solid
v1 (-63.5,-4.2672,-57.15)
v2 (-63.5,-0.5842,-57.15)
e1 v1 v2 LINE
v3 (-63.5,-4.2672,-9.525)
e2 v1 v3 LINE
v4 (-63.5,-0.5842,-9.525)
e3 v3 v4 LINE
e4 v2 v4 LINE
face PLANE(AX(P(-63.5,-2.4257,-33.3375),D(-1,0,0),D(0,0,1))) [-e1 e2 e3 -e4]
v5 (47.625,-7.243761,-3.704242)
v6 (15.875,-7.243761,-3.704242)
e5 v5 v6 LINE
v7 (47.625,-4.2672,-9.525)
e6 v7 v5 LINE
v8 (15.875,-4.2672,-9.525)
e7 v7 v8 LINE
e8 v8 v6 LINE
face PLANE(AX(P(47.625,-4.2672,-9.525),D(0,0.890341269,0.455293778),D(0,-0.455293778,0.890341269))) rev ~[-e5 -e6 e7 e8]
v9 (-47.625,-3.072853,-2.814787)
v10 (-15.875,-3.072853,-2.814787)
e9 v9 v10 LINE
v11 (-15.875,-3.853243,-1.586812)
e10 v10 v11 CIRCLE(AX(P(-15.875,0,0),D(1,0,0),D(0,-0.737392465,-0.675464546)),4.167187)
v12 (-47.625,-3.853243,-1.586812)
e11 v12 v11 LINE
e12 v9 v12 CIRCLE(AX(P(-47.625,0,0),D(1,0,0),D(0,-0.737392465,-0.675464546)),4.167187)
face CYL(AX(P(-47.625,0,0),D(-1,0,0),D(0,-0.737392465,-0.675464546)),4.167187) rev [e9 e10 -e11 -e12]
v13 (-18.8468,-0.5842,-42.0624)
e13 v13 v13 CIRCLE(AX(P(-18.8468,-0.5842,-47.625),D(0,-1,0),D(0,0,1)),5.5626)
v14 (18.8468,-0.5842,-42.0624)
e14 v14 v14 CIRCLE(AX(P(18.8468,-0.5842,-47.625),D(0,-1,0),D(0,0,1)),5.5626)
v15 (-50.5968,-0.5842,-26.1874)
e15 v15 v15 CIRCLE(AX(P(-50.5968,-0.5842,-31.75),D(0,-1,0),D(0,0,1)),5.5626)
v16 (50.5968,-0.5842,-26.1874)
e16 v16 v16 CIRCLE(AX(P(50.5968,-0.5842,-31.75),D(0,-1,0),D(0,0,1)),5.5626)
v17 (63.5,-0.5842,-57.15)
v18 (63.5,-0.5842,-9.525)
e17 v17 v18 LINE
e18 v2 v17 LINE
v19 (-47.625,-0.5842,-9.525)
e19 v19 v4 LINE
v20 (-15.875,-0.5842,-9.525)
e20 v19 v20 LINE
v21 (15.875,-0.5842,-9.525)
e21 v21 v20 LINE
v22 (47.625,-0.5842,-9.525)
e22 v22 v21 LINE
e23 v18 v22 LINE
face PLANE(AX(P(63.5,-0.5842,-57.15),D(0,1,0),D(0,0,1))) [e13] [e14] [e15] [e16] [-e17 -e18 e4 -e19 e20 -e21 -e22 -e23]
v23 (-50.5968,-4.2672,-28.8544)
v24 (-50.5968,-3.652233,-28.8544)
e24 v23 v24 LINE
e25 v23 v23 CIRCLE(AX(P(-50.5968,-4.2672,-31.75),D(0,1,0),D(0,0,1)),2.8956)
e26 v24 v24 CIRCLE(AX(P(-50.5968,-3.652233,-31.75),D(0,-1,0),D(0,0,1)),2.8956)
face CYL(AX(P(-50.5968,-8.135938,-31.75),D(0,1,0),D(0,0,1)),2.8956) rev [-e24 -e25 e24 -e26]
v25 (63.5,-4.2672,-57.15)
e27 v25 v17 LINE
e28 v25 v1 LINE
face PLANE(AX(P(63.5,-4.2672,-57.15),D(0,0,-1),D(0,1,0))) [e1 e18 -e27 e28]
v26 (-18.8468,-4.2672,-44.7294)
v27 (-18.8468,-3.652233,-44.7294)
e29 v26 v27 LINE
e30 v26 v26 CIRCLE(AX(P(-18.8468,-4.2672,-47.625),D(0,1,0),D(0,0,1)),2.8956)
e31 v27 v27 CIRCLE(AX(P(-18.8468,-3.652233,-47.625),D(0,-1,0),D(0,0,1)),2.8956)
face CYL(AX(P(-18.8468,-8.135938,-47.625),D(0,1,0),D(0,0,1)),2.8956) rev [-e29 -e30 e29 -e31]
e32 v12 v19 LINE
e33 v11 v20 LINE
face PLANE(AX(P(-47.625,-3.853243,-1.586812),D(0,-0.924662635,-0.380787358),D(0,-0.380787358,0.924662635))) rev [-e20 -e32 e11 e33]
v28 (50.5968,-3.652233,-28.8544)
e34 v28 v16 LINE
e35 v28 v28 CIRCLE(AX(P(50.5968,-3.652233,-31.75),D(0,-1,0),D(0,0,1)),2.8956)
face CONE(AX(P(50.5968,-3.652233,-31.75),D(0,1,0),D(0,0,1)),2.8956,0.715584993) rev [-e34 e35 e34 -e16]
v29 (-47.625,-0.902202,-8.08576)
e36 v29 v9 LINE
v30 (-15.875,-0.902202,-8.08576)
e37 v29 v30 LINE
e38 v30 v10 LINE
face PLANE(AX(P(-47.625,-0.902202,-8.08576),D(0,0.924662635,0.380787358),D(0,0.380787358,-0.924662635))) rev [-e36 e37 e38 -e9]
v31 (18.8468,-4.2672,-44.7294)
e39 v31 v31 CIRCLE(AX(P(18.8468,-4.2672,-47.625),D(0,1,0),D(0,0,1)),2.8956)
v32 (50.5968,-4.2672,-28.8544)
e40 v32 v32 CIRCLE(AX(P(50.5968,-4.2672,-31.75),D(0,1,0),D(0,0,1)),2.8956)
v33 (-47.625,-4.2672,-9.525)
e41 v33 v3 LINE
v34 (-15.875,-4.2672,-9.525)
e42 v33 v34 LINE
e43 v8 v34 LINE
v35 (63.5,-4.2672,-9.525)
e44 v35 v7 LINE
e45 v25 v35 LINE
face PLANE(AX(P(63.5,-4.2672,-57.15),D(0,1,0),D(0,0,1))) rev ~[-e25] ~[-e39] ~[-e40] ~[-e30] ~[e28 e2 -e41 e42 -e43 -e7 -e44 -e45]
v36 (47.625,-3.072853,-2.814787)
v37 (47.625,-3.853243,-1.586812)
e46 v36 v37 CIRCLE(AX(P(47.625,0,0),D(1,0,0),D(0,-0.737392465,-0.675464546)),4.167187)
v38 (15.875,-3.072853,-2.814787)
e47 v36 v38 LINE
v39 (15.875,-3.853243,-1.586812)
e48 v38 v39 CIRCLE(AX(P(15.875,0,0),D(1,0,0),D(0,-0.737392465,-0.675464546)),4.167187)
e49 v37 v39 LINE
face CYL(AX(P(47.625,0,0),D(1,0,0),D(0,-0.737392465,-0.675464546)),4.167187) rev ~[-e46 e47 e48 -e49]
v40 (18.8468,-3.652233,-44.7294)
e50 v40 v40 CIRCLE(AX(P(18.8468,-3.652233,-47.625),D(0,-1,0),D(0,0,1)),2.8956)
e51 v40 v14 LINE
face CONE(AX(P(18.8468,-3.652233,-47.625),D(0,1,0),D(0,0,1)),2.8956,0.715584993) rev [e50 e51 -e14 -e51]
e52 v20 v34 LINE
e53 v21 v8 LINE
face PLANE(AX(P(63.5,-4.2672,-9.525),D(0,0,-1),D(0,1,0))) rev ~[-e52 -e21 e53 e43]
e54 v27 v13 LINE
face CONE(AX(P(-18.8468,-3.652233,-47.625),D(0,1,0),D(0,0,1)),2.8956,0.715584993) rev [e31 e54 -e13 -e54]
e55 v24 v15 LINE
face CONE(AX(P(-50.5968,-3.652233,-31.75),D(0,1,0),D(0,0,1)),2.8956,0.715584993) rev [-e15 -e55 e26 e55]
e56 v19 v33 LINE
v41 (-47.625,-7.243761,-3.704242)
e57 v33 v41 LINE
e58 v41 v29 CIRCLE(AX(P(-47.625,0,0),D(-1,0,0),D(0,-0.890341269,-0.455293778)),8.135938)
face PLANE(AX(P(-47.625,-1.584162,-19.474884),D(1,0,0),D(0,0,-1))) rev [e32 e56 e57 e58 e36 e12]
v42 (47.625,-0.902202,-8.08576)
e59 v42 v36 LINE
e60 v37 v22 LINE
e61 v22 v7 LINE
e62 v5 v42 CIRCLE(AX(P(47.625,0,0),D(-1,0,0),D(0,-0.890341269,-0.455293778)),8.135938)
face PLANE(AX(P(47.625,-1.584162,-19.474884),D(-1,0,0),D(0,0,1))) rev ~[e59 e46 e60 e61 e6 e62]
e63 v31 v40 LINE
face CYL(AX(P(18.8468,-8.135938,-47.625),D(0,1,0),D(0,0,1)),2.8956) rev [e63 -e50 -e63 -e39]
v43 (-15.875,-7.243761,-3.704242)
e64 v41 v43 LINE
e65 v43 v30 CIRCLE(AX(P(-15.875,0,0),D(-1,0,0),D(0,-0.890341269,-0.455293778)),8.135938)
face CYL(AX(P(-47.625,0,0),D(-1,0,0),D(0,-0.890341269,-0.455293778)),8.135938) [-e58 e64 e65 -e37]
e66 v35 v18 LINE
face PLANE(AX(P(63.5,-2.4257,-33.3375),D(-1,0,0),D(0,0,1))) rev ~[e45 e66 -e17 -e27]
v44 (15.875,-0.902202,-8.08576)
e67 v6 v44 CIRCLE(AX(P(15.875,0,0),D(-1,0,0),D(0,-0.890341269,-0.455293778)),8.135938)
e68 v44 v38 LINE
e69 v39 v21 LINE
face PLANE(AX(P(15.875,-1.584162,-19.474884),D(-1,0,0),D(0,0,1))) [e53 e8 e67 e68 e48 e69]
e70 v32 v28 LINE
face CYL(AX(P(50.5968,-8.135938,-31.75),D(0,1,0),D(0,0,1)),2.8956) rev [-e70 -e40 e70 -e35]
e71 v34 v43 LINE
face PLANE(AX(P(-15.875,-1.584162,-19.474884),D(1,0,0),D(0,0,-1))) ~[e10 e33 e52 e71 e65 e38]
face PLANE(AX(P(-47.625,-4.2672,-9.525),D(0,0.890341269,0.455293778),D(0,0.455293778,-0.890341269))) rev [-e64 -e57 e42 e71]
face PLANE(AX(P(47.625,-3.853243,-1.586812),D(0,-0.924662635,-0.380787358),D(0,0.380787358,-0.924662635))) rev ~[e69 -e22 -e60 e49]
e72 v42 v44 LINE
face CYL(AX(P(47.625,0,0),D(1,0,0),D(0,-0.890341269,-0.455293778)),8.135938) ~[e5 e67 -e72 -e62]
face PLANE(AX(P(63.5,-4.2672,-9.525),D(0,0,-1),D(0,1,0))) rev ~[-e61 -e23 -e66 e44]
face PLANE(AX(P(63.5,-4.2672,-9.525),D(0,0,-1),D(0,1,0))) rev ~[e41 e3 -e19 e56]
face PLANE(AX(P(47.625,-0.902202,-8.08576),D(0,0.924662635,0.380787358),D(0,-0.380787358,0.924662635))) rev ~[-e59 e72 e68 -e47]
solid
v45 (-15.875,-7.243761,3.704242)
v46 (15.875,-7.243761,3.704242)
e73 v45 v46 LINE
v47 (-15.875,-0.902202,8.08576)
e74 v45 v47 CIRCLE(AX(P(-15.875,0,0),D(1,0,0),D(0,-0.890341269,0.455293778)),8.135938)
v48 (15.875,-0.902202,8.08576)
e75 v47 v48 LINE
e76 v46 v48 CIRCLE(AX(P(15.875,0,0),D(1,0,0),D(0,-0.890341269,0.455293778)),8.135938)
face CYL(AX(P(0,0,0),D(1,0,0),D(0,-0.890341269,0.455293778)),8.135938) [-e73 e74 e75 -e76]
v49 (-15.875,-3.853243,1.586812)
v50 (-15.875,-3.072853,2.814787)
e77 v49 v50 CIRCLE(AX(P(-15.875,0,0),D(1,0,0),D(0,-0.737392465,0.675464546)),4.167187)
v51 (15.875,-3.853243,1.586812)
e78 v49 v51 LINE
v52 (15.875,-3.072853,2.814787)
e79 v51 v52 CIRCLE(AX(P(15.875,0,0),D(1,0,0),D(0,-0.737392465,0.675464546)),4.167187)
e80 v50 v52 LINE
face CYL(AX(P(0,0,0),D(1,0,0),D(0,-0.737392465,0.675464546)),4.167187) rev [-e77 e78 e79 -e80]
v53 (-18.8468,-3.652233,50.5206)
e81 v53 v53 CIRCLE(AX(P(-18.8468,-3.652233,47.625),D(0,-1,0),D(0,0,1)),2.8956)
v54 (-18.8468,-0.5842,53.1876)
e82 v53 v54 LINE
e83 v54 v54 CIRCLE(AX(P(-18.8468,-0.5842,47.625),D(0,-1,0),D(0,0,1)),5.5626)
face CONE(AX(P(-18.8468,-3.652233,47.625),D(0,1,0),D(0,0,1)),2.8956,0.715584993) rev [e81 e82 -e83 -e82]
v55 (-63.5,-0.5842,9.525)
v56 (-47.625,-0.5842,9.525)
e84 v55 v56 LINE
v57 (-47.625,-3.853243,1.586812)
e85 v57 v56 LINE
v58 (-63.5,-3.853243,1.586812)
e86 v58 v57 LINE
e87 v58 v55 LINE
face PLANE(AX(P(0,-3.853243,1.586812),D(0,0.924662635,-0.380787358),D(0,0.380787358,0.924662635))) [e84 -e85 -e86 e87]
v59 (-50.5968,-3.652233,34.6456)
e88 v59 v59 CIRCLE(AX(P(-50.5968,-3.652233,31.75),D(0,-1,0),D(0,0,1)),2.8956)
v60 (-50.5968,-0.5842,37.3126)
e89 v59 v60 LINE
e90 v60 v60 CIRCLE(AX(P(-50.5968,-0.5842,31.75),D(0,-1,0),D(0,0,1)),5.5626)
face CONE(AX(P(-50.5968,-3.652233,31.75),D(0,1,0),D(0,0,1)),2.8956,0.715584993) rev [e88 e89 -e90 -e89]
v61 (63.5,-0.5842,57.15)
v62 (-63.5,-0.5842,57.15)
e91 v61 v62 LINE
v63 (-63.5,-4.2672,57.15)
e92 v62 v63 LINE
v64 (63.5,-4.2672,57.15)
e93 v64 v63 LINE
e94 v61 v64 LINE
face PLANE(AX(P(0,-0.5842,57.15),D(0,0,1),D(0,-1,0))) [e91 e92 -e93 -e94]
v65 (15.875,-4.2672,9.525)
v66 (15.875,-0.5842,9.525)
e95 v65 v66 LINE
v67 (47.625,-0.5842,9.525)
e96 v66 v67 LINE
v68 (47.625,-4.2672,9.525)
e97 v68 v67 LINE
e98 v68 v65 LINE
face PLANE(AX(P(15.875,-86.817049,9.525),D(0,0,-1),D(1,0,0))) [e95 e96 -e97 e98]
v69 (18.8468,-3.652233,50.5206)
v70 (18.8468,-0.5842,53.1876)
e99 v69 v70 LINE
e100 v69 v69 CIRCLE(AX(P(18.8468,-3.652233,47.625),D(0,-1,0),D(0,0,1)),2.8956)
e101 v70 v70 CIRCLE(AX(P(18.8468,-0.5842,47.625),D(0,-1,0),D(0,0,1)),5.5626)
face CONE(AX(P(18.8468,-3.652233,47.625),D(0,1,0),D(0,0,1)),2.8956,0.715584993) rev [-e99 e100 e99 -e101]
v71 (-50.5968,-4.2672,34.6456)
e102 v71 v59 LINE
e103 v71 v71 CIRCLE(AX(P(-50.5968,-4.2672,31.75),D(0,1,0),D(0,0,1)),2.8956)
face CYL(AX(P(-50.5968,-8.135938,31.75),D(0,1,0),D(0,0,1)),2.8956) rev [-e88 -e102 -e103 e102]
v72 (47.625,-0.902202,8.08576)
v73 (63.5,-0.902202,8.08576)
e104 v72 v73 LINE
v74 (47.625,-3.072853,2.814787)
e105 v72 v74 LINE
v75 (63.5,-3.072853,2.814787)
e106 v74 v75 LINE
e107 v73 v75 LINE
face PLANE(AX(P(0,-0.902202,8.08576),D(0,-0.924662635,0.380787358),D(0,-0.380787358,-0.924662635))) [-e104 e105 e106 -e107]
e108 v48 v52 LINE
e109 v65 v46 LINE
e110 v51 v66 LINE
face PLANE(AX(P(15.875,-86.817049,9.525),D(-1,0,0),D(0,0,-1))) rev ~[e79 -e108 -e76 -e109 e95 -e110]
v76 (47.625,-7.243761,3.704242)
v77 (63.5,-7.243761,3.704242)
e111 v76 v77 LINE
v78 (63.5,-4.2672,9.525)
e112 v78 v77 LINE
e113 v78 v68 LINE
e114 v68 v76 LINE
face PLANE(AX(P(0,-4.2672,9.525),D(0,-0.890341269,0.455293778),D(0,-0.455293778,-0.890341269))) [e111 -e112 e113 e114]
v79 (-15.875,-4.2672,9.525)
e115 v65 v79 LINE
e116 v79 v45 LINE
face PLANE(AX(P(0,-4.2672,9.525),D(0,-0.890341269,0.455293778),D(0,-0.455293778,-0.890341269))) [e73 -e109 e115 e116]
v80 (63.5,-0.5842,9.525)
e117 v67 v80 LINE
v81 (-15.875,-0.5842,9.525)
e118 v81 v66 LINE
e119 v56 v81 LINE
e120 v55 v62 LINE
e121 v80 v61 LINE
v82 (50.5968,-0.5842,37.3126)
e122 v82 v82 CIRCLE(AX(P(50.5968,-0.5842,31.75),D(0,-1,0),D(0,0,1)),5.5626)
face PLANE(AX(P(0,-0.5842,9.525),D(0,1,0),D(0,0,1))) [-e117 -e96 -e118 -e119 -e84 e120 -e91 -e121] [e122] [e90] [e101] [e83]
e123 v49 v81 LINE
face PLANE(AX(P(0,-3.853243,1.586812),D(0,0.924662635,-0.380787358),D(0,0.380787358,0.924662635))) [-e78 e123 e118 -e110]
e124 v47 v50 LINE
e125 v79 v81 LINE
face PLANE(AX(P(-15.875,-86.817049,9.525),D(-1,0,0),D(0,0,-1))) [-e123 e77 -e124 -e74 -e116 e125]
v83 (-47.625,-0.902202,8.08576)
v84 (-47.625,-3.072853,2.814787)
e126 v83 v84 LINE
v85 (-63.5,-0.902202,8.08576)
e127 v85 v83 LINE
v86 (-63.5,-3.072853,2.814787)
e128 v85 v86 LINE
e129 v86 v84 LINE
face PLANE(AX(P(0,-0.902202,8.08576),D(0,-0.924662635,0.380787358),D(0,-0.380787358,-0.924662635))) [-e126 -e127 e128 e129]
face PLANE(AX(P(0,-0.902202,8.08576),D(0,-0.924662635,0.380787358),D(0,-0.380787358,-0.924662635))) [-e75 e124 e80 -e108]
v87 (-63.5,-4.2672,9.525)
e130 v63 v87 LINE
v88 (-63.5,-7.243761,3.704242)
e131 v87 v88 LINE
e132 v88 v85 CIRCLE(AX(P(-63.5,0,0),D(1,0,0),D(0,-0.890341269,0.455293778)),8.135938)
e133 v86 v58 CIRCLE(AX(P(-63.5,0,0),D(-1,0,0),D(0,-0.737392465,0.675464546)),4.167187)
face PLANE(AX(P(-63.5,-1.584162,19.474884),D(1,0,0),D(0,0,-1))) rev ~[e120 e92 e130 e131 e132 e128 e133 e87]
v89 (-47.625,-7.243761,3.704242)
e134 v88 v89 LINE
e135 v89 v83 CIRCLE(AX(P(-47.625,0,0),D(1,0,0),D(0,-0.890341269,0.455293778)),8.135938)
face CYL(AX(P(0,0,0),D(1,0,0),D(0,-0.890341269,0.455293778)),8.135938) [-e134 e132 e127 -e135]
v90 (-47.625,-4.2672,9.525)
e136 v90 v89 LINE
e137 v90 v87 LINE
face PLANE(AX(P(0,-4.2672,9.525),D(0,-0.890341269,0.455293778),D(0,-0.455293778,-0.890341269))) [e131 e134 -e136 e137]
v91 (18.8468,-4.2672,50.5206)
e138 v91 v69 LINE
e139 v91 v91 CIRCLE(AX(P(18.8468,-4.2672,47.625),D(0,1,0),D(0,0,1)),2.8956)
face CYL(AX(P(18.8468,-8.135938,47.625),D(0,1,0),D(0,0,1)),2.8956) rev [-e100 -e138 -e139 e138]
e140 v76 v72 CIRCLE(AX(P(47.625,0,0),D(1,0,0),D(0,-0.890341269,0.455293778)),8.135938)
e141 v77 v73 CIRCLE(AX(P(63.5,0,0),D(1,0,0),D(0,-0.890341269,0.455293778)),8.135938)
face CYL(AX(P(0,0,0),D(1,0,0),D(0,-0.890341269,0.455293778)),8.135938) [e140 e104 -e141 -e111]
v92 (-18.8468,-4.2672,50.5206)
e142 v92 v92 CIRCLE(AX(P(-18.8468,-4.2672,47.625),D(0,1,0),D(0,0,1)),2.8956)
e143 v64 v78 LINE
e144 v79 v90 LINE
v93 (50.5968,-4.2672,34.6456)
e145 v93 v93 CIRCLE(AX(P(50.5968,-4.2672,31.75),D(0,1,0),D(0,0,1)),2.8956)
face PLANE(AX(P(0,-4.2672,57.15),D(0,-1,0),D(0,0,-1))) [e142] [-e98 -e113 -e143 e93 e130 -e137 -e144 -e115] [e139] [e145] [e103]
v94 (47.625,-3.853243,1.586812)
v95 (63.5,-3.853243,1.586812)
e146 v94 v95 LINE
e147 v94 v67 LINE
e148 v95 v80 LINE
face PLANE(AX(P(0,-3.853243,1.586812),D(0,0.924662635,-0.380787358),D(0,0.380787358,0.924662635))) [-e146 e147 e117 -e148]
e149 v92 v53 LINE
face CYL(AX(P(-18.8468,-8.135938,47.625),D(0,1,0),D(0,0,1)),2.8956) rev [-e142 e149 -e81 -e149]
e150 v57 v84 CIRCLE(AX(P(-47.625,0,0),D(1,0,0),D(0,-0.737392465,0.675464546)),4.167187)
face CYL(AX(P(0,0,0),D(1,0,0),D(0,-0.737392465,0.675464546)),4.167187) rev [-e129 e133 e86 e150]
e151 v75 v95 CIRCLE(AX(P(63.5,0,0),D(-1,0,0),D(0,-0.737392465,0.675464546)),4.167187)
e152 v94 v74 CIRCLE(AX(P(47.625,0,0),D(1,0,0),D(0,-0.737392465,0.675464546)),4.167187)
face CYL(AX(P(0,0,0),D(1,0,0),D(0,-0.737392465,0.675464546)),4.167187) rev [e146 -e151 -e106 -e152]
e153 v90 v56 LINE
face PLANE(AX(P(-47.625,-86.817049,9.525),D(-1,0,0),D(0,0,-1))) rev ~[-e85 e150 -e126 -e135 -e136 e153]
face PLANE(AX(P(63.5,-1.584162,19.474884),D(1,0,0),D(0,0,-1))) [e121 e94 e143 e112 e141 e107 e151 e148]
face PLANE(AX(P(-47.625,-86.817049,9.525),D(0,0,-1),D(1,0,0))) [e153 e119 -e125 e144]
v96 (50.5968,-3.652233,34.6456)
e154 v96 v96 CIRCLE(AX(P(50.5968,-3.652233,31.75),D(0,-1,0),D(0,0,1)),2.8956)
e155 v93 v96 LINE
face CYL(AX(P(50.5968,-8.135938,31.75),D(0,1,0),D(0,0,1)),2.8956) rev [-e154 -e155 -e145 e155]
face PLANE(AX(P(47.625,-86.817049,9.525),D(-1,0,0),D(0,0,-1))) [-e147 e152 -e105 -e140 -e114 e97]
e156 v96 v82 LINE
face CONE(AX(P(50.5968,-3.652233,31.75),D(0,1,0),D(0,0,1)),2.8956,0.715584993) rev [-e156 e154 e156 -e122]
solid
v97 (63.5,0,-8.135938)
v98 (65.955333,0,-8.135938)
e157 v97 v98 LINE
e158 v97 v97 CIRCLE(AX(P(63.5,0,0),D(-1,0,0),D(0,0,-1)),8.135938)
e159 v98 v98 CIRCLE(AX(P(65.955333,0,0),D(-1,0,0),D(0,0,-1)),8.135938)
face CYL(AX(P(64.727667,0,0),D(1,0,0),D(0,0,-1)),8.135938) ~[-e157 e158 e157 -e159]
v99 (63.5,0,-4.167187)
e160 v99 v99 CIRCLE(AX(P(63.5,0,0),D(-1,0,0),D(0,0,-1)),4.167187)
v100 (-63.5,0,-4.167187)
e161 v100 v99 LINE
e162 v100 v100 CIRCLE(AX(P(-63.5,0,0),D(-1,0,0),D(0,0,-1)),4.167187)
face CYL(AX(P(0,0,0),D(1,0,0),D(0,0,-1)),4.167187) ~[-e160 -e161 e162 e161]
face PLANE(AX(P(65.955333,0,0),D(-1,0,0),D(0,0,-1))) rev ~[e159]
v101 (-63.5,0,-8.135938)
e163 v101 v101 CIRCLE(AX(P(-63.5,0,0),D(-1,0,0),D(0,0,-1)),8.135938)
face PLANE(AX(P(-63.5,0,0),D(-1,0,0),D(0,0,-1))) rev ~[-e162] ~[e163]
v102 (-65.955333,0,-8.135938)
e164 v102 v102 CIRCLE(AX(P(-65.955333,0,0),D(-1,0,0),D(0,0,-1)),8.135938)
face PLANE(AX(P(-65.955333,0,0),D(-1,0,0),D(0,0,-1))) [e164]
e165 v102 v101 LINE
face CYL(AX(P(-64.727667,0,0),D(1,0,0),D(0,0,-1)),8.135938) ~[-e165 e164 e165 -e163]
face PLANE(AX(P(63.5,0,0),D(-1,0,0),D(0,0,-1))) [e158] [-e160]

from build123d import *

# Parameters (mm, degrees)
LEFT_LEAF_DEPTH                              = 63.5
CUT_EXTRUDE1_DEPTH                           = 86.817049466
CUT_EXTRUDE1_DEPTH_BACK                      = 86.817049466
SKETCH2_W                                    = 31.75
SKETCH2_H                                    = 17.6609375
RIGHT_LEAF_DEPTH                             = 31.75
EXTRUDE3_START                               = -63.5
SKETCH4_W                                    = 47.625
SKETCH4_H                                    = 3.683
EXTRUDE3_DEPTH                               = 127
SKETCH6_W                                    = 127
SKETCH6_H                                    = 4.1671875
SKETCH7_W                                    = 2.455333333
SKETCH7_H                                    = 8.1359375
CSK_FOR_12_FLAT_HEAD_MACHINE_SCREW1_AT_COUNT = 2
CSK_FOR_12_FLAT_HEAD_MACHINE_SCREW1_AT_PITCH = 95.25
CSK_FOR_12_FLAT_HEAD_MACHINE_SCREW1_2_COUNT  = 2
CSK_FOR_12_FLAT_HEAD_MACHINE_SCREW1_2_PITCH  = 102.437151371
CSK_FOR_12_FLAT_HEAD_MACHINE_SCREW1_3_COUNT  = 2
CSK_FOR_12_FLAT_HEAD_MACHINE_SCREW1_3_PITCH  = 37.6936
CSK_FOR_12_FLAT_HEAD_MACHINE_SCREW1_4_COUNT  = 2
CSK_FOR_12_FLAT_HEAD_MACHINE_SCREW1_4_PITCH  = 85.489491313
CSK_FOR_12_FLAT_HEAD_MACHINE_SCREW1_5_COUNT  = 2
CSK_FOR_12_FLAT_HEAD_MACHINE_SCREW1_5_PITCH  = 105.464705973
CSK_FOR_12_FLAT_HEAD_MACHINE_SCREW1_6_COUNT  = 2
CSK_FOR_12_FLAT_HEAD_MACHINE_SCREW1_6_PITCH  = 35.497579143
CSK_FOR_12_FLAT_HEAD_MACHINE_SCREW1_7_COUNT  = 2
CSK_FOR_12_FLAT_HEAD_MACHINE_SCREW1_7_PITCH  = 71.235027942


with BuildPart() as part:
    # Sketch1 → Left Leaf (new, symmetric)
    with BuildSketch(Plane(origin=(0, 0, 0), x_dir=(0, 0, -1), z_dir=(1, 0, 0))):
        with BuildLine():
            Line((-9.525, -4.2672), (-3.704241722, -7.24376092))
            ThreePointArc((-3.704241722, -7.24376092), (6.693644471, 4.624781368), (-8.085759748, -0.902201921))
            Line((-8.085759748, -0.902201921), (-2.814787415, -3.07285266))
            ThreePointArc((-2.814787415, -3.07285266), (2.235122404, 3.517055515), (-1.58681232, -3.853242572))
            Line((-1.58681232, -3.853242572), (-9.525, -0.5842))
            Line((-9.525, -0.5842), (-57.15, -0.5842))
            Line((-57.15, -0.5842), (-57.15, -4.2672))
            Line((-57.15, -4.2672), (-9.525, -4.2672))
        make_face()
    extrude(amount=LEFT_LEAF_DEPTH, both=True)

    # Sketch2 → Cut-Extrude1 (cut, two sides: drawn at the far end of the back side and taken through both)
    with BuildSketch(Plane(origin=(0, 0, 0), x_dir=(1, 0, 0), z_dir=(0, 1, 0)).offset(-CUT_EXTRUDE1_DEPTH_BACK)):
        with Locations((31.75, -0.69453125)):
            Rectangle(SKETCH2_W, SKETCH2_H)
        with Locations((-31.75, -0.69453125)):
            Rectangle(SKETCH2_W, SKETCH2_H)
    extrude(amount=CUT_EXTRUDE1_DEPTH + CUT_EXTRUDE1_DEPTH_BACK, mode=Mode.SUBTRACT)

    # Sketch9 → CSK for #12 Flat Head Machine Screw1 (revolve, cut)
    with BuildSketch(Plane(origin=(-18.8468, -0.5842, 47.625), x_dir=(0, 0, 1), z_dir=(1, 0, 0))):
        Polygon((0, 0), (0, 7.5517375), (2.8956, 7.5517375), (2.8956, 3.068032542), (5.5626, 0), align=None)
    csk_for_12_flat_head_machine_screw1 = revolve(axis=Axis((-18.8468, 5.7658, 47.625), (0, -1, 0)), mode=Mode.SUBTRACT)

    # CSK for _12 Flat Head Machine Screw1 3: CSK for #12 Flat Head Machine Screw1 ×2
    with Locations(*[(i * CSK_FOR_12_FLAT_HEAD_MACHINE_SCREW1_3_PITCH, 0, 0) for i in range(1, CSK_FOR_12_FLAT_HEAD_MACHINE_SCREW1_3_COUNT)]):
        add(csk_for_12_flat_head_machine_screw1, mode=Mode.SUBTRACT)

    # CSK for _12 Flat Head Machine Screw1 6: CSK for #12 Flat Head Machine Screw1 ×2
    with Locations(*[Vector(-0.894427190999916, 0, -0.44721359549995804) * (i * CSK_FOR_12_FLAT_HEAD_MACHINE_SCREW1_6_PITCH) for i in range(1, CSK_FOR_12_FLAT_HEAD_MACHINE_SCREW1_6_COUNT)]):
        add(csk_for_12_flat_head_machine_screw1, mode=Mode.SUBTRACT)

    # CSK for _12 Flat Head Machine Screw1 7: CSK for #12 Flat Head Machine Screw1 ×2
    with Locations(*[Vector(0.9748518672037848, 0, -0.22285384674556183) * (i * CSK_FOR_12_FLAT_HEAD_MACHINE_SCREW1_7_PITCH) for i in range(1, CSK_FOR_12_FLAT_HEAD_MACHINE_SCREW1_7_COUNT)]):
        add(csk_for_12_flat_head_machine_screw1, mode=Mode.SUBTRACT)


with BuildPart() as body_2:
    # Sketch3 → Right Leaf (new body)
    with BuildSketch(Plane(origin=(47.625, 0, 0), x_dir=(0, 0, -1), z_dir=(1, 0, 0))):
        with BuildLine():
            Line((9.525, -4.2672), (3.704241722, -7.24376092))
            ThreePointArc((3.704241722, -7.24376092), (-6.693644471, 4.624781368), (8.085759748, -0.902201921))
            Line((8.085759748, -0.902201921), (2.814787415, -3.07285266))
            ThreePointArc((2.814787415, -3.07285266), (-2.235122404, 3.517055515), (1.58681232, -3.853242572))
            Line((1.58681232, -3.853242572), (9.525, -0.5842))
            Line((9.525, -0.5842), (57.15, -0.5842))
            Line((57.15, -0.5842), (57.15, -4.2672))
            Line((57.15, -4.2672), (9.525, -4.2672))
        make_face()
    extrude(amount=-RIGHT_LEAF_DEPTH)


with BuildPart() as body_3:
    # Mirror1: mirrored copy
    add(body_2.part.mirror(Plane(origin=(0, 0, 0), x_dir=(0, 0, 1), z_dir=(1, 0, 0))))


with BuildPart() as body_4:
    # Sketch4 → Extrude3 (new body)
    with BuildSketch(Plane.ZY.offset(EXTRUDE3_START)):
        with Locations((-33.3375, -2.4257)):
            Rectangle(SKETCH4_W, SKETCH4_H)
    extrude(amount=EXTRUDE3_DEPTH)


with BuildPart() as body_3_1:
    add(body_3.part)

    # Combine1: union body 2, body 4
    add(body_2.part)
    add(body_4.part)

    # CSK for #12 Flat Head Machine Screw1 at: CSK for #12 Flat Head Machine Screw1 ×2
    with Locations(*[(0, 0, -i * CSK_FOR_12_FLAT_HEAD_MACHINE_SCREW1_AT_PITCH) for i in range(1, CSK_FOR_12_FLAT_HEAD_MACHINE_SCREW1_AT_COUNT)]):
        add(csk_for_12_flat_head_machine_screw1, mode=Mode.SUBTRACT)

    # CSK for _12 Flat Head Machine Screw1 2: CSK for #12 Flat Head Machine Screw1 ×2
    with Locations(*[Vector(0.36796806134880755, 0, -0.9298384299582376) * (i * CSK_FOR_12_FLAT_HEAD_MACHINE_SCREW1_2_PITCH) for i in range(1, CSK_FOR_12_FLAT_HEAD_MACHINE_SCREW1_2_COUNT)]):
        add(csk_for_12_flat_head_machine_screw1, mode=Mode.SUBTRACT)

    # CSK for _12 Flat Head Machine Screw1 4: CSK for #12 Flat Head Machine Screw1 ×2
    with Locations(*[Vector(-0.37139067635410433, 0, -0.9284766908852591) * (i * CSK_FOR_12_FLAT_HEAD_MACHINE_SCREW1_4_PITCH) for i in range(1, CSK_FOR_12_FLAT_HEAD_MACHINE_SCREW1_4_COUNT)]):
        add(csk_for_12_flat_head_machine_screw1, mode=Mode.SUBTRACT)

    # CSK for _12 Flat Head Machine Screw1 5: CSK for #12 Flat Head Machine Screw1 ×2
    with Locations(*[Vector(0.6584534547302844, 0, -0.7526214506335528) * (i * CSK_FOR_12_FLAT_HEAD_MACHINE_SCREW1_5_PITCH) for i in range(1, CSK_FOR_12_FLAT_HEAD_MACHINE_SCREW1_5_COUNT)]):
        add(csk_for_12_flat_head_machine_screw1, mode=Mode.SUBTRACT)


with BuildPart() as body_3_2:
    # Sketch6 → Pin (revolve)
    with BuildSketch(Plane(origin=(0, 0, 0), x_dir=(1, 0, 0), z_dir=(0, 1, 0)), mode=Mode.PRIVATE) as pin_sk:
        with Locations((0, -2.08359375)):
            Rectangle(SKETCH6_W, SKETCH6_H)
    revolve(pin_sk.sketch.rotate(Axis((24.566181471, 0, 0), (-1, 0, 0)), 180), axis=Axis((24.566181471, 0, 0), (-1, 0, 0)))

    # Sketch7 → Spun Pin (revolve)
    with BuildSketch(Plane(origin=(0, 0, 0), x_dir=(1, 0, 0), z_dir=(0, 1, 0)), mode=Mode.PRIVATE) as spun_pin_sk:
        with Locations((-64.727666666, -4.06796875)):
            Rectangle(SKETCH7_W, SKETCH7_H)
        with Locations((64.727666666, -4.06796875)):
            Rectangle(SKETCH7_W, SKETCH7_H)
    revolve(spun_pin_sk.sketch.rotate(Axis((24.566181471, 0, 0), (-1, 0, 0)), 180), axis=Axis((24.566181471, 0, 0), (-1, 0, 0)))


solid = Compound([part.part, body_3_1.part, body_3_2.part])
